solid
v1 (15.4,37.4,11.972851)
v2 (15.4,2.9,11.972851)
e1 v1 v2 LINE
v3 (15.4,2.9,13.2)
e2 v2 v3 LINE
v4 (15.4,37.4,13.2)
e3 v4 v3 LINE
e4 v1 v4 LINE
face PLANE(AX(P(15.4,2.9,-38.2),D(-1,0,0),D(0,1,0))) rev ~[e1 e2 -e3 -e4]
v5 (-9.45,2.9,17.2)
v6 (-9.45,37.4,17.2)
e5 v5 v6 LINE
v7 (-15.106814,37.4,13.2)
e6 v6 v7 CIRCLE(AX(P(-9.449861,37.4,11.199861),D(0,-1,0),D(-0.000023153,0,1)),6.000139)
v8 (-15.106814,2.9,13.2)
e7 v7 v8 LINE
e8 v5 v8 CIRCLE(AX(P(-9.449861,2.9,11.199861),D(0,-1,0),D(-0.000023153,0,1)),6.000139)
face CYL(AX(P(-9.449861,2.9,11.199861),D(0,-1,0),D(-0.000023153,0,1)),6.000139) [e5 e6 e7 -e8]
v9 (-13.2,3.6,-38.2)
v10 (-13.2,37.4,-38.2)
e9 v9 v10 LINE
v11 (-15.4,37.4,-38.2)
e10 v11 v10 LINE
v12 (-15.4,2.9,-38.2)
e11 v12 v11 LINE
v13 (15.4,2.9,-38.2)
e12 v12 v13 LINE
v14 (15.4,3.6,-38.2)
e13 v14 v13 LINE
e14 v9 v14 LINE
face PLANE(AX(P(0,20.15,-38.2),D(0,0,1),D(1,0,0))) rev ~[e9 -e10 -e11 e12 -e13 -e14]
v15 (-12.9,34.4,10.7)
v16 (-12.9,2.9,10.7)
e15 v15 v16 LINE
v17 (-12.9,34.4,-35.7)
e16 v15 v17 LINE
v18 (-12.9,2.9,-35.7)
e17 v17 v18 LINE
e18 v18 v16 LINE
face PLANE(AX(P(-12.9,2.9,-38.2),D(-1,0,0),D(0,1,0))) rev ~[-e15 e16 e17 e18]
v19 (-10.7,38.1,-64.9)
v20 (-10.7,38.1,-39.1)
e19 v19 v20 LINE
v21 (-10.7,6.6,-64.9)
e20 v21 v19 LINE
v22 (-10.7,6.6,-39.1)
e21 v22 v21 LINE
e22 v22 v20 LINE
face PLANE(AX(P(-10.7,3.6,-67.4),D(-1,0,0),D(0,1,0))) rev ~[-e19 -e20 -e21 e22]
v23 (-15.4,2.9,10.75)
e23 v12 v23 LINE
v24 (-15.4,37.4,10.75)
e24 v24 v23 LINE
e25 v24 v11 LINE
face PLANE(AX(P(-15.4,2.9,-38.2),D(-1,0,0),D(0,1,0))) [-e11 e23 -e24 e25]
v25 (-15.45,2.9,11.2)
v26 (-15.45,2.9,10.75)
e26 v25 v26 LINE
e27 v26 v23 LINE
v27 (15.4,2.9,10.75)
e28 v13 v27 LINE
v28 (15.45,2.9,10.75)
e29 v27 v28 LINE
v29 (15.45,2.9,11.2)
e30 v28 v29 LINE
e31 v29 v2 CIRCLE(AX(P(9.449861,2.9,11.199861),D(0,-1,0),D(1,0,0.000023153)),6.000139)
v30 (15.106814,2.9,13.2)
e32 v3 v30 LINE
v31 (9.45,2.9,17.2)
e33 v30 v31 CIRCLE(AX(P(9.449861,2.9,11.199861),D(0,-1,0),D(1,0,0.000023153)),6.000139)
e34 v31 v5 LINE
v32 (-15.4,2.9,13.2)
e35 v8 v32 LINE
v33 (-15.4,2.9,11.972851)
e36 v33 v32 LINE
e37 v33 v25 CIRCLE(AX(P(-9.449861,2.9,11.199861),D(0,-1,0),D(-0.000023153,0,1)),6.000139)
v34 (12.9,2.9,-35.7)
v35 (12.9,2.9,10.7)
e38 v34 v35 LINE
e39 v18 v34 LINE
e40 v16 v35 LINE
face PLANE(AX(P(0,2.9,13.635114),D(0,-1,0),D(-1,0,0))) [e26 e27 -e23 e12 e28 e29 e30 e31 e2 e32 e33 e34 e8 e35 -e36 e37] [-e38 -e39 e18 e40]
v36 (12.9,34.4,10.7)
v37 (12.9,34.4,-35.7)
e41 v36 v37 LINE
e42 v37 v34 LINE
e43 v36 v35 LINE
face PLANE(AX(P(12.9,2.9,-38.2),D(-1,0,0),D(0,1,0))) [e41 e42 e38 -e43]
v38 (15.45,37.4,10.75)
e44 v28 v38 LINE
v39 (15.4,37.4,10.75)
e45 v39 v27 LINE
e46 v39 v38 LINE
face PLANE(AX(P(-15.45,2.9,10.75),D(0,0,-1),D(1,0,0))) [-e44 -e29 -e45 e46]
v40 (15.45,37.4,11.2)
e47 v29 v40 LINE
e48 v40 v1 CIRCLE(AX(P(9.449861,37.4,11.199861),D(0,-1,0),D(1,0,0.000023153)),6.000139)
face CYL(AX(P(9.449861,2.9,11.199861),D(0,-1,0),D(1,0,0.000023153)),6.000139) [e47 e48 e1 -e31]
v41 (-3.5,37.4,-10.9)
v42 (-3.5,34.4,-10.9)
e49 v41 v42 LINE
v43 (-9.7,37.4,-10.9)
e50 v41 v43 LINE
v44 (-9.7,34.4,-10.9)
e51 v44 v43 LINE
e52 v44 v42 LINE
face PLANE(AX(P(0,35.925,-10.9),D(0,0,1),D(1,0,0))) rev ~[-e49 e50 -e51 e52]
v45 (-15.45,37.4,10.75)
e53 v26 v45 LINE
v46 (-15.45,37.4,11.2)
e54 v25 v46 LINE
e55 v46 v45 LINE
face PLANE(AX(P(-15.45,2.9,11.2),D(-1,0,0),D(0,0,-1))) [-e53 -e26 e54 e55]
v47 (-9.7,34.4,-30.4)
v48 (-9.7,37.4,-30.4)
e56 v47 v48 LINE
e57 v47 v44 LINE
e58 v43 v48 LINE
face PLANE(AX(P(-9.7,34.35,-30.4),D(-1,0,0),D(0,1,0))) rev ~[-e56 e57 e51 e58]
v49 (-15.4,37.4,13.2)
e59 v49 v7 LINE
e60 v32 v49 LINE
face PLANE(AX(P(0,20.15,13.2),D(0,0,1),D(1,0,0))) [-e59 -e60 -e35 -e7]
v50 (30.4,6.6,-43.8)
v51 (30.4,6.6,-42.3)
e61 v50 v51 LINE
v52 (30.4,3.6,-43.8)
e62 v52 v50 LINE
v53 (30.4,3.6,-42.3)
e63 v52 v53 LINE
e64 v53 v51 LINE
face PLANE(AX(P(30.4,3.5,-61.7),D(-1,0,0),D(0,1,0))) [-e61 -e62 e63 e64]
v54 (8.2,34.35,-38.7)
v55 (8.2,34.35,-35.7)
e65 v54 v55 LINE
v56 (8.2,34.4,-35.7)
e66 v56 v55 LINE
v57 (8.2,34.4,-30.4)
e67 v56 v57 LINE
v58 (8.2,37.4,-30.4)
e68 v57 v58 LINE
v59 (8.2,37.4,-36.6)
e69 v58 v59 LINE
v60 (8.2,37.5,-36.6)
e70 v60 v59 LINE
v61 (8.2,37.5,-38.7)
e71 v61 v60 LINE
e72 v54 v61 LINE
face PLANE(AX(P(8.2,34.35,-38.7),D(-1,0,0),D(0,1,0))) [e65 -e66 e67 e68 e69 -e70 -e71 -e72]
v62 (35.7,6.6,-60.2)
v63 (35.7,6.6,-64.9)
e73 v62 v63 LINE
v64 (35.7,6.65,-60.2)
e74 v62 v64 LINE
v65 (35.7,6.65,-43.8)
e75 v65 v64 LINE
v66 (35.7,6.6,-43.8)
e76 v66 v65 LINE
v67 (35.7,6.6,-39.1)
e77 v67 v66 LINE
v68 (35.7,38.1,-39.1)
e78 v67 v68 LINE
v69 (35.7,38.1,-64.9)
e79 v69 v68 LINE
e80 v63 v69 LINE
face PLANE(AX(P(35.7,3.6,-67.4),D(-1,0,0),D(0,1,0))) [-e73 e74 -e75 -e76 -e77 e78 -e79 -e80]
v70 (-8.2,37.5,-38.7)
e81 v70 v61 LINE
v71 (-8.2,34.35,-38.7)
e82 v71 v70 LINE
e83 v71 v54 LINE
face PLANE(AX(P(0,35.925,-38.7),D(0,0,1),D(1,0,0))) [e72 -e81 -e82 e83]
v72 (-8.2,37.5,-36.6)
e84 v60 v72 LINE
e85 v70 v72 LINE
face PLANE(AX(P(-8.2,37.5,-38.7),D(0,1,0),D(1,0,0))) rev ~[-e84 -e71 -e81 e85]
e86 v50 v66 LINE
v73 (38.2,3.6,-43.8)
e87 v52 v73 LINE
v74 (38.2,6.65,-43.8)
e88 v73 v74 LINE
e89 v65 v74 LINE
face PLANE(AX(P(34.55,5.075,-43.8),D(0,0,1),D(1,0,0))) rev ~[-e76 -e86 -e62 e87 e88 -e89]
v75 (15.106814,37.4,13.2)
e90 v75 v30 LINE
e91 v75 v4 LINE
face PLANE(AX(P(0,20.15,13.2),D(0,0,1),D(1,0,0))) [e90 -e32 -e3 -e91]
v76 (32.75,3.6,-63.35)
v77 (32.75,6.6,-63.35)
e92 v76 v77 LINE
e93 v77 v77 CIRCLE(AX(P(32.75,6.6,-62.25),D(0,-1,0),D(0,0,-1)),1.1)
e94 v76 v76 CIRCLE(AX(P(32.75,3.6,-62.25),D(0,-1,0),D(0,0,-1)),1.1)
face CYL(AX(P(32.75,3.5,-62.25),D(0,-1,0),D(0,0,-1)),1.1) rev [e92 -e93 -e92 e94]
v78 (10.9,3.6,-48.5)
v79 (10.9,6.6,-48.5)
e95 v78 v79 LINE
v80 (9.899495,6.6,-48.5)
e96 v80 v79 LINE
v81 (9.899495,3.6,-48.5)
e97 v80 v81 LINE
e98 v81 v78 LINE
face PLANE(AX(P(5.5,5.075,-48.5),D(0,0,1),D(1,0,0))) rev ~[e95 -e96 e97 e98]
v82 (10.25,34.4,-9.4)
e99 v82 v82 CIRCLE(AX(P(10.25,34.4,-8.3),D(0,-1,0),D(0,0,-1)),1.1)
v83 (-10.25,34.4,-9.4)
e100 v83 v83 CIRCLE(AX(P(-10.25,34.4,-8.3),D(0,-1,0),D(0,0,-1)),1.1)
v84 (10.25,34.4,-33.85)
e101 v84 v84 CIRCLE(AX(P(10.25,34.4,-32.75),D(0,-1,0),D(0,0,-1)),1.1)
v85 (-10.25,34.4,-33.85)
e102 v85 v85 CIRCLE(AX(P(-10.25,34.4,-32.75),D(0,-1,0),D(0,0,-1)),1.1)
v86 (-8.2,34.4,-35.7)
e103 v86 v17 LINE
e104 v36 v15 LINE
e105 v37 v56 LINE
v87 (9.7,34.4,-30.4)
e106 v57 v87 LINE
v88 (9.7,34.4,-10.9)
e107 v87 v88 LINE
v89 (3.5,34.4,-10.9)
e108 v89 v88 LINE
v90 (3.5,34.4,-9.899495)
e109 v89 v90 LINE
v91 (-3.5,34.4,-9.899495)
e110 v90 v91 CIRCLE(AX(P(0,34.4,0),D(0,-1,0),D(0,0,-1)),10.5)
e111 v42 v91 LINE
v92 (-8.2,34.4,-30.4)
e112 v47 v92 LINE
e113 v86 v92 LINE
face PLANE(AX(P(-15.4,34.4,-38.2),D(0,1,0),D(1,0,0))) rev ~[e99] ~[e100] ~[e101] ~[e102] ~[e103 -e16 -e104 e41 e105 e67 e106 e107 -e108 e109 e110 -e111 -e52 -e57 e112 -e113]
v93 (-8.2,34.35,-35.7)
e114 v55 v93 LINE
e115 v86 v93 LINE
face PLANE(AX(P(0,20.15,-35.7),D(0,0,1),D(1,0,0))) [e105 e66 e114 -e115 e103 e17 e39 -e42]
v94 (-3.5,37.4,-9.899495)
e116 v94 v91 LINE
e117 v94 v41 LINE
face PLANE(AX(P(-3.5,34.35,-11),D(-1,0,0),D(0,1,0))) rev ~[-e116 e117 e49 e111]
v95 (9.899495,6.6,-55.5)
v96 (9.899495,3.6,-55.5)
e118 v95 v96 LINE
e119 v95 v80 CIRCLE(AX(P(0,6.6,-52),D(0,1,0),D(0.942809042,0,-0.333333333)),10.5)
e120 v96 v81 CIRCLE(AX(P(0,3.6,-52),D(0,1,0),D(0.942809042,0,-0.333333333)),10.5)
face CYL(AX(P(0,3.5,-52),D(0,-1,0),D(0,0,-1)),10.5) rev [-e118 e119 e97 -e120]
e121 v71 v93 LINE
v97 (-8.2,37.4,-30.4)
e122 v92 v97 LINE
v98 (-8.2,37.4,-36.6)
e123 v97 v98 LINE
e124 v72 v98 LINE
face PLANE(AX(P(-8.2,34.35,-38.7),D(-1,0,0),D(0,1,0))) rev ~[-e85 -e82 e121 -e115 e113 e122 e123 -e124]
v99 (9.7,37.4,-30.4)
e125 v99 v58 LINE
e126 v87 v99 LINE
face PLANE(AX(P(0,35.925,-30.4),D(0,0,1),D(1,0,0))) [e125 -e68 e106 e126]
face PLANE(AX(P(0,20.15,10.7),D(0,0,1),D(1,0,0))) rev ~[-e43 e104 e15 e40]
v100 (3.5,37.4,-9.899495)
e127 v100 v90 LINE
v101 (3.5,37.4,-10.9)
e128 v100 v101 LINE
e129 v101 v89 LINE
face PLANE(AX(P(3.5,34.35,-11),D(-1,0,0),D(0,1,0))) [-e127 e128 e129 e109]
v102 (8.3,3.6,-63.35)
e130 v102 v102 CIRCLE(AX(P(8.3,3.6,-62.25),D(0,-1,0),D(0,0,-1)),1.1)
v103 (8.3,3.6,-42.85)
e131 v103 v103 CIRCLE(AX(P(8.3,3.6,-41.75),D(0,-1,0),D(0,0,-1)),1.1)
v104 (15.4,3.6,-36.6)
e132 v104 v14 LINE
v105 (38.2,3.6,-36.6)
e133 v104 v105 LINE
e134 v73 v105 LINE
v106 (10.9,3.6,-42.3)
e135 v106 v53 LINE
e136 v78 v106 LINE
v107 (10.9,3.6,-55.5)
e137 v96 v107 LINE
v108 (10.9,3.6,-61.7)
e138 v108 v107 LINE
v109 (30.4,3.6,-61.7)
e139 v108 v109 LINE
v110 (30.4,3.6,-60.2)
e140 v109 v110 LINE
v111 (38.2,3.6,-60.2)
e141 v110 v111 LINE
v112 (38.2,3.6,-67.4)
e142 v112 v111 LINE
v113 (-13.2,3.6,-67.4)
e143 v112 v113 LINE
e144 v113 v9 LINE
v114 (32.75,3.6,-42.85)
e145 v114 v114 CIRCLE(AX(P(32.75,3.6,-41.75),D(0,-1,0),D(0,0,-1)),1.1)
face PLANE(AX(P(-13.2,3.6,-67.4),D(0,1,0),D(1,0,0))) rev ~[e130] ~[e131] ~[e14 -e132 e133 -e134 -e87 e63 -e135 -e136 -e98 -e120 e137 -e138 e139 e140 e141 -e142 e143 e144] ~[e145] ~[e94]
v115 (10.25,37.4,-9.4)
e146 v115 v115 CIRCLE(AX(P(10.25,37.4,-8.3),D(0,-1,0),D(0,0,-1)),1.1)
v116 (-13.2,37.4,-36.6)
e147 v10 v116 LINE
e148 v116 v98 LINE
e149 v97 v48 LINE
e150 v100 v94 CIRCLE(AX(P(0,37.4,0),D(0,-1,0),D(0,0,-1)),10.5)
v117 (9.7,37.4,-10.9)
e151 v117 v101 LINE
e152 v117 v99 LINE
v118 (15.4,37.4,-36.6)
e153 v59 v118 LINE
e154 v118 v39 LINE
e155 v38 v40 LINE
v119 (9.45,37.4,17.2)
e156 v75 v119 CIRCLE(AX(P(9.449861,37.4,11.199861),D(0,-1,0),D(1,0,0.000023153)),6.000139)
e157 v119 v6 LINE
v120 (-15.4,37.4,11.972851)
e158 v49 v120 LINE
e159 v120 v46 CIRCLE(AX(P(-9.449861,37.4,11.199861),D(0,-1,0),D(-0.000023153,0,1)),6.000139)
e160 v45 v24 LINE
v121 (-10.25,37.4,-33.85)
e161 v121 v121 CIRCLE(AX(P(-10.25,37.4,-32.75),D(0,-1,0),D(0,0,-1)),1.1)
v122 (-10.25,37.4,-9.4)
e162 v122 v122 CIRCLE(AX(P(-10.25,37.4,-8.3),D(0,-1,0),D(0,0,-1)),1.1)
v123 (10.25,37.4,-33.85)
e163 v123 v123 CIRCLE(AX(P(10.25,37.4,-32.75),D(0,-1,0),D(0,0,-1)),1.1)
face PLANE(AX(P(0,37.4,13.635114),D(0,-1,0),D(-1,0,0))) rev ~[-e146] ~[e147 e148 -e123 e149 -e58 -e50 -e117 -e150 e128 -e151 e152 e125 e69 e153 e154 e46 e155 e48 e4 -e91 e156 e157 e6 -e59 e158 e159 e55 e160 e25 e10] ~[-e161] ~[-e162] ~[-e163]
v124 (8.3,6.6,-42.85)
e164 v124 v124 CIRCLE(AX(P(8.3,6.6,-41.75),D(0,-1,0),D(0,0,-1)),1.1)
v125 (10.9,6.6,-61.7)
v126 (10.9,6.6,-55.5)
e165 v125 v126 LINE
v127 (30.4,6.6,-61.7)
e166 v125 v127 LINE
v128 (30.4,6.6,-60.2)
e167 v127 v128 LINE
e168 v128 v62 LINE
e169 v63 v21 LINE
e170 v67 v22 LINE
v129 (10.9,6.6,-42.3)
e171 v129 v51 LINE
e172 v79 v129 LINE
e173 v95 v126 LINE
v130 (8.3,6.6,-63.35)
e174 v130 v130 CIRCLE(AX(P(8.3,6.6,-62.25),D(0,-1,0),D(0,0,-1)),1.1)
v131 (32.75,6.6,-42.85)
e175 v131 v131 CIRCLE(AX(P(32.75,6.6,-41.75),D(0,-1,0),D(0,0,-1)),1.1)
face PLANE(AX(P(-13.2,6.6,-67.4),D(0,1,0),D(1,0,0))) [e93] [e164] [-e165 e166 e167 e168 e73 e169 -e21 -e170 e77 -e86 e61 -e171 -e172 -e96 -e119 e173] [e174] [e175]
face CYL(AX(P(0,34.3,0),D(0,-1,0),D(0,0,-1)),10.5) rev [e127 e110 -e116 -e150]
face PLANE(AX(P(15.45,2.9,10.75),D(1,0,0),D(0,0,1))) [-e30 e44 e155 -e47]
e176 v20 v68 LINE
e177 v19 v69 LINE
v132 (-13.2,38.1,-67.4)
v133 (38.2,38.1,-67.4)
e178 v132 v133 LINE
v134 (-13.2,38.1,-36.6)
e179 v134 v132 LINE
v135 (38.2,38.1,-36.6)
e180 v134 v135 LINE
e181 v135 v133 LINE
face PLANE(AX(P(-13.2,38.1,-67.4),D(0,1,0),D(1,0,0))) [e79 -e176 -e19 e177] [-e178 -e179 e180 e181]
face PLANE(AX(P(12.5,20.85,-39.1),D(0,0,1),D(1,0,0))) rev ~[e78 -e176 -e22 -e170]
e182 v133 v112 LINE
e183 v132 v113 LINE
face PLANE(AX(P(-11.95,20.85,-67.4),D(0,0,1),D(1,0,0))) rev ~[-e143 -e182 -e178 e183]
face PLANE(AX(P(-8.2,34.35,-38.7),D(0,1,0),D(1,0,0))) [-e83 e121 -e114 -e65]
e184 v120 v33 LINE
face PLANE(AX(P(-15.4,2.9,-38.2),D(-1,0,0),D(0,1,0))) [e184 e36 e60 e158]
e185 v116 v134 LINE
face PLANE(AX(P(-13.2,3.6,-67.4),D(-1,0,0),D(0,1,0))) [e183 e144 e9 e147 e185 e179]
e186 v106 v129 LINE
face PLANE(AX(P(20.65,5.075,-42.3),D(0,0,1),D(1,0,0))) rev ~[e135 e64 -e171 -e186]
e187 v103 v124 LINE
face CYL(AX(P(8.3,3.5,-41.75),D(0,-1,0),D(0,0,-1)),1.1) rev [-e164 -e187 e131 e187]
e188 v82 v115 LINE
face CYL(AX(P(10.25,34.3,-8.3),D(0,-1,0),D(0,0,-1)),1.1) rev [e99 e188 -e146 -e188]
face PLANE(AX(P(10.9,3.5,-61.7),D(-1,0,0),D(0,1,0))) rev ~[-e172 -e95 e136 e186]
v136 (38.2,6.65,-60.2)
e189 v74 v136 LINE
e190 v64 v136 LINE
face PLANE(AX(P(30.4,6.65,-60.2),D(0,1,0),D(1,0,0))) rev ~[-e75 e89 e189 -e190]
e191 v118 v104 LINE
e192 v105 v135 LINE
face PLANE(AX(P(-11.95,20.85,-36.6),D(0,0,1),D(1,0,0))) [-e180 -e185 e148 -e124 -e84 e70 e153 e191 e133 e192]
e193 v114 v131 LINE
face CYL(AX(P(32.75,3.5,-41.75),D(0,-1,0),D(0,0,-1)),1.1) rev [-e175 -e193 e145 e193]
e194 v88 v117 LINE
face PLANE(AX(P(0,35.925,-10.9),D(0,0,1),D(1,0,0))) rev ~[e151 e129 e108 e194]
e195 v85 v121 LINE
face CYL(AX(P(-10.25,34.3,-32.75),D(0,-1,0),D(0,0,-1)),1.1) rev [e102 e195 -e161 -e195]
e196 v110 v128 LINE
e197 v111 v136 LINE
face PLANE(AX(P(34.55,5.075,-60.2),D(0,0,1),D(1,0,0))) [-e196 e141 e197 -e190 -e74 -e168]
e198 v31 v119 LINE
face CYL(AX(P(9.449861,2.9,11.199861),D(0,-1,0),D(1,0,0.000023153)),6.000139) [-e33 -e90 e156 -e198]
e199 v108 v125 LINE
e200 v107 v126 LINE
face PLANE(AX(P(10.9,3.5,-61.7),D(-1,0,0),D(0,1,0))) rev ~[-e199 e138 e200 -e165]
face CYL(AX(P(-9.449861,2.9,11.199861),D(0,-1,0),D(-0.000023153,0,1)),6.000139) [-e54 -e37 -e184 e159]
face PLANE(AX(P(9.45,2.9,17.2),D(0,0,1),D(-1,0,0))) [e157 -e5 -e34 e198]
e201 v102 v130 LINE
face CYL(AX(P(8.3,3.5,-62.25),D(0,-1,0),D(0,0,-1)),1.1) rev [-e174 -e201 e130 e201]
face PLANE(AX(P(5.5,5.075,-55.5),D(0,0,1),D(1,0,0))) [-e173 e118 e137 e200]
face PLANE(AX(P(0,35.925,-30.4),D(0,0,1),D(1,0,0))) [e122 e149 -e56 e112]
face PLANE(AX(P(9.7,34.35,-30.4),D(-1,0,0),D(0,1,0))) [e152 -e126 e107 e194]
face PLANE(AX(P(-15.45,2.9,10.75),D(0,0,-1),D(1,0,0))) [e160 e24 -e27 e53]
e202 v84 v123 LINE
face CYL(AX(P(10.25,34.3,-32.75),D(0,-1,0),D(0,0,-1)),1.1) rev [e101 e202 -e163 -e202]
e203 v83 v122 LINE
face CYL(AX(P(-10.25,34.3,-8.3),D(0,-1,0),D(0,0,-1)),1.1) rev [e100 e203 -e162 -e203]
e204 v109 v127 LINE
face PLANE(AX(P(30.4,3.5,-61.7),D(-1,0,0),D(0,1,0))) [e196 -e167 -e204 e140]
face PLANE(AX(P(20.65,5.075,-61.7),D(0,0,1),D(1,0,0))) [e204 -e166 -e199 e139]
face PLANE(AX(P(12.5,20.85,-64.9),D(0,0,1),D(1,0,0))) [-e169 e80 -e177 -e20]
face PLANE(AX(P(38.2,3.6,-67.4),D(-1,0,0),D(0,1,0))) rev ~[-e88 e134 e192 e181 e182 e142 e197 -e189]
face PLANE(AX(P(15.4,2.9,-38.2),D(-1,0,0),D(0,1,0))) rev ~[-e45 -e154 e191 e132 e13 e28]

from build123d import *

# Parameters (mm, degrees)
S_BOX1_W        = 30.8
S_BOX1_H        = 34.5
BOSS_1_DEPTH    = 2.5
S_BOX2_W        = 30.8
S_BOX2_H        = 34.5
BOSS_2_DEPTH    = 2.5
S_BOX3_W        = 2.5
S_BOX3_H        = 34.5
BOSS_3_DEPTH    = 51.4
S_BOX4_W        = 2.5
S_BOX4_H        = 34.5
BOSS_4_DEPTH    = 51.4
S_BOX5_W        = 30.8
S_BOX5_H        = 3
BOSS_5_DEPTH    = 51.4
S_BOX6_W        = 2.5
S_BOX6_H        = 34.5
BOSS_6_DEPTH    = 30.8
S_BOX7_W        = 2.5
S_BOX7_H        = 34.5
BOSS_7_DEPTH    = 30.8
S_BOX8_W        = 51.4
S_BOX8_H        = 34.5
BOSS_8_DEPTH    = 2.5
S_BOX9_W        = 51.4
S_BOX9_H        = 34.5
BOSS_9_DEPTH    = 2.5
S_BOX10_W       = 51.4
S_BOX10_H       = 3
BOSS_10_DEPTH   = 30.8
BOSS_11_DEPTH   = 34.5
S_HOLE12_R      = 10.5
HOLE_12_DEPTH   = 3.2
S_CUT13_W       = 19.4
S_CUT13_H       = 3.15
POCKET_13_DEPTH = 19.5
S_CUT14_W       = 16.4
S_CUT14_H       = 3.15
POCKET_14_DEPTH = 8.3
S_CUT15_W       = 7
S_CUT15_H       = 3.15
POCKET_15_DEPTH = 11
S_HOLE16_R      = 1.1
HOLE_16_DEPTH   = 3.2
S_HOLE17_R      = 1.1
HOLE_17_DEPTH   = 3.2
S_HOLE18_R      = 1.1
HOLE_18_DEPTH   = 3.2
S_HOLE19_R      = 1.1
HOLE_19_DEPTH   = 3.2
S_HOLE20_R      = 10.5
HOLE_20_DEPTH   = 3.2
S_CUT21_W       = 19.5
S_CUT21_H       = 3.15
POCKET_21_DEPTH = 19.4
S_CUT22_W       = 8.3
S_CUT22_H       = 3.15
POCKET_22_DEPTH = 16.4
S_CUT23_W       = 11
S_CUT23_H       = 3.15
POCKET_23_DEPTH = 7
S_HOLE24_R      = 1.1
HOLE_24_DEPTH   = 3.2
S_HOLE25_R      = 1.1
HOLE_25_DEPTH   = 3.2
S_HOLE26_R      = 1.1
HOLE_26_DEPTH   = 3.2
S_HOLE27_R      = 1.1
HOLE_27_DEPTH   = 3.2


with BuildPart() as part:
    # S_box1 → Boss_1 (new body)
    with BuildSketch(Plane.XY.offset(-38.2)):
        with Locations((0, 20.15)):
            Rectangle(S_BOX1_W, S_BOX1_H)
    extrude(amount=BOSS_1_DEPTH)



with BuildPart() as body_2:
    # S_box2 → Boss_2 (new body)
    with BuildSketch(Plane.XY.offset(10.7)):
        with Locations((0, 20.15)):
            Rectangle(S_BOX2_W, S_BOX2_H)
    extrude(amount=BOSS_2_DEPTH)


with BuildPart() as part_1:
    add(part.part)

    add(body_2.part)  # Boss_3 merges body 2
    # S_box3 → Boss_3 (add)
    with BuildSketch(Plane.XY.offset(-38.2)):
        with Locations((-14.15, 20.15)):
            Rectangle(S_BOX3_W, S_BOX3_H)
    extrude(amount=BOSS_3_DEPTH)

    # S_box4 → Boss_4 (add)
    with BuildSketch(Plane.XY.offset(-38.2)):
        with Locations((14.15, 20.15)):
            Rectangle(S_BOX4_W, S_BOX4_H)
    extrude(amount=BOSS_4_DEPTH)

    # S_box5 → Boss_5 (add)
    with BuildSketch(Plane.XY.offset(-38.2)):
        with Locations((0, 35.9)):
            Rectangle(S_BOX5_W, S_BOX5_H)
    extrude(amount=BOSS_5_DEPTH)

    # S_box6 → Boss_6 (add)
    with BuildSketch(Plane.XY.offset(-67.4)):
        with Locations((-11.95, 20.85)):
            Rectangle(S_BOX6_W, S_BOX6_H)
    extrude(amount=BOSS_6_DEPTH)



with BuildPart() as body_2_2:
    # S_box7 → Boss_7 (new body)
    with BuildSketch(Plane.XY.offset(-67.4)):
        with Locations((36.95, 20.85)):
            Rectangle(S_BOX7_W, S_BOX7_H)
    extrude(amount=BOSS_7_DEPTH)


with BuildPart() as part_2:
    add(part_1.part)

    add(body_2_2.part)  # Boss_8 merges body 2 2
    # S_box8 → Boss_8 (add)
    with BuildSketch(Plane.XY.offset(-67.4)):
        with Locations((12.5, 20.85)):
            Rectangle(S_BOX8_W, S_BOX8_H)
    extrude(amount=BOSS_8_DEPTH)

    # S_box9 → Boss_9 (add)
    with BuildSketch(Plane.XY.offset(-39.1)):
        with Locations((12.5, 20.85)):
            Rectangle(S_BOX9_W, S_BOX9_H)
    extrude(amount=BOSS_9_DEPTH)

    # S_box10 → Boss_10 (add)
    with BuildSketch(Plane.XY.offset(-67.4)):
        with Locations((12.5, 5.1)):
            Rectangle(S_BOX10_W, S_BOX10_H)
    extrude(amount=BOSS_10_DEPTH)

    # S_prism11 → Boss_11 (add)
    with BuildSketch(Plane(origin=(0, 2.9, 0), x_dir=(1, 0, 0), z_dir=(0, 1, 0))):
        with BuildLine():
            Line((-15.45, -10.75), (15.45, -10.75))
            Line((15.45, -10.75), (15.45, -11.2))
            ThreePointArc((15.45, -11.2), (13.6926, -15.4426), (9.45, -17.2))
            Line((9.45, -17.2), (-9.45, -17.2))
            ThreePointArc((-9.45, -17.2), (-13.6926, -15.4426), (-15.45, -11.2))
            Line((-15.45, -11.2), (-15.45, -10.75))
        make_face()
    extrude(amount=BOSS_11_DEPTH)

    # S_hole12 → Hole_12 (cut)
    with BuildSketch(Plane(origin=(0, 34.3, 0), x_dir=(1, 0, 0), z_dir=(0, 1, 0))):
        with Locations(Location((0, 0, 0), (0, 0, 90))):
            Circle(S_HOLE12_R)
    extrude(amount=HOLE_12_DEPTH, mode=Mode.SUBTRACT)

    # S_cut13 → Pocket_13 (cut)
    with BuildSketch(Plane.XY.offset(-30.4)):
        with Locations((0, 35.925)):
            Rectangle(S_CUT13_W, S_CUT13_H)
    extrude(amount=POCKET_13_DEPTH, mode=Mode.SUBTRACT)

    # S_cut14 → Pocket_14 (cut)
    with BuildSketch(Plane.XY.offset(-38.7)):
        with Locations((0, 35.925)):
            Rectangle(S_CUT14_W, S_CUT14_H)
    extrude(amount=POCKET_14_DEPTH, mode=Mode.SUBTRACT)

    # S_cut15 → Pocket_15 (cut)
    with BuildSketch(Plane.XY.offset(-11)):
        with Locations((0, 35.925)):
            Rectangle(S_CUT15_W, S_CUT15_H)
    extrude(amount=POCKET_15_DEPTH, mode=Mode.SUBTRACT)

    # S_hole16 → Hole_16 (cut)
    with BuildSketch(Plane(origin=(0, 34.3, 0), x_dir=(1, 0, 0), z_dir=(0, 1, 0))):
        with Locations(Location((-10.25, 8.3, 0), (0, 0, 90))):
            Circle(S_HOLE16_R)
    extrude(amount=HOLE_16_DEPTH, mode=Mode.SUBTRACT)

    # S_hole17 → Hole_17 (cut)
    with BuildSketch(Plane(origin=(0, 34.3, 0), x_dir=(1, 0, 0), z_dir=(0, 1, 0))):
        with Locations(Location((10.25, 8.3, 0), (0, 0, 90))):
            Circle(S_HOLE17_R)
    extrude(amount=HOLE_17_DEPTH, mode=Mode.SUBTRACT)

    # S_hole18 → Hole_18 (cut)
    with BuildSketch(Plane(origin=(0, 34.3, 0), x_dir=(1, 0, 0), z_dir=(0, 1, 0))):
        with Locations(Location((-10.25, 32.75, 0), (0, 0, 90))):
            Circle(S_HOLE18_R)
    extrude(amount=HOLE_18_DEPTH, mode=Mode.SUBTRACT)

    # S_hole19 → Hole_19 (cut)
    with BuildSketch(Plane(origin=(0, 34.3, 0), x_dir=(1, 0, 0), z_dir=(0, 1, 0))):
        with Locations(Location((10.25, 32.75, 0), (0, 0, 90))):
            Circle(S_HOLE19_R)
    extrude(amount=HOLE_19_DEPTH, mode=Mode.SUBTRACT)

    # S_hole20 → Hole_20 (cut)
    with BuildSketch(Plane(origin=(0, 3.5, 0), x_dir=(1, 0, 0), z_dir=(0, 1, 0))):
        with Locations(Location((0, 52, 0), (0, 0, 90))):
            Circle(S_HOLE20_R)
    extrude(amount=HOLE_20_DEPTH, mode=Mode.SUBTRACT)

    # S_cut21 → Pocket_21 (cut)
    with BuildSketch(Plane.XY.offset(-61.7)):
        with Locations((20.65, 5.075)):
            Rectangle(S_CUT21_W, S_CUT21_H)
    extrude(amount=POCKET_21_DEPTH, mode=Mode.SUBTRACT)

    # S_cut22 → Pocket_22 (cut)
    with BuildSketch(Plane.XY.offset(-60.2)):
        with Locations((34.55, 5.075)):
            Rectangle(S_CUT22_W, S_CUT22_H)
    extrude(amount=POCKET_22_DEPTH, mode=Mode.SUBTRACT)

    # S_cut23 → Pocket_23 (cut)
    with BuildSketch(Plane.XY.offset(-55.5)):
        with Locations((5.5, 5.075)):
            Rectangle(S_CUT23_W, S_CUT23_H)
    extrude(amount=POCKET_23_DEPTH, mode=Mode.SUBTRACT)

    # S_hole24 → Hole_24 (cut)
    with BuildSketch(Plane(origin=(0, 3.5, 0), x_dir=(1, 0, 0), z_dir=(0, 1, 0))):
        with Locations(Location((8.3, 62.25, 0), (0, 0, 90))):
            Circle(S_HOLE24_R)
    extrude(amount=HOLE_24_DEPTH, mode=Mode.SUBTRACT)

    # S_hole25 → Hole_25 (cut)
    with BuildSketch(Plane(origin=(0, 3.5, 0), x_dir=(1, 0, 0), z_dir=(0, 1, 0))):
        with Locations(Location((8.3, 41.75, 0), (0, 0, 90))):
            Circle(S_HOLE25_R)
    extrude(amount=HOLE_25_DEPTH, mode=Mode.SUBTRACT)

    # S_hole26 → Hole_26 (cut)
    with BuildSketch(Plane(origin=(0, 3.5, 0), x_dir=(1, 0, 0), z_dir=(0, 1, 0))):
        with Locations(Location((32.75, 62.25, 0), (0, 0, 90))):
            Circle(S_HOLE26_R)
    extrude(amount=HOLE_26_DEPTH, mode=Mode.SUBTRACT)

    # S_hole27 → Hole_27 (cut)
    with BuildSketch(Plane(origin=(0, 3.5, 0), x_dir=(1, 0, 0), z_dir=(0, 1, 0))):
        with Locations(Location((32.75, 41.75, 0), (0, 0, 90))):
            Circle(S_HOLE27_R)
    extrude(amount=HOLE_27_DEPTH, mode=Mode.SUBTRACT)


solid = part_2.part
